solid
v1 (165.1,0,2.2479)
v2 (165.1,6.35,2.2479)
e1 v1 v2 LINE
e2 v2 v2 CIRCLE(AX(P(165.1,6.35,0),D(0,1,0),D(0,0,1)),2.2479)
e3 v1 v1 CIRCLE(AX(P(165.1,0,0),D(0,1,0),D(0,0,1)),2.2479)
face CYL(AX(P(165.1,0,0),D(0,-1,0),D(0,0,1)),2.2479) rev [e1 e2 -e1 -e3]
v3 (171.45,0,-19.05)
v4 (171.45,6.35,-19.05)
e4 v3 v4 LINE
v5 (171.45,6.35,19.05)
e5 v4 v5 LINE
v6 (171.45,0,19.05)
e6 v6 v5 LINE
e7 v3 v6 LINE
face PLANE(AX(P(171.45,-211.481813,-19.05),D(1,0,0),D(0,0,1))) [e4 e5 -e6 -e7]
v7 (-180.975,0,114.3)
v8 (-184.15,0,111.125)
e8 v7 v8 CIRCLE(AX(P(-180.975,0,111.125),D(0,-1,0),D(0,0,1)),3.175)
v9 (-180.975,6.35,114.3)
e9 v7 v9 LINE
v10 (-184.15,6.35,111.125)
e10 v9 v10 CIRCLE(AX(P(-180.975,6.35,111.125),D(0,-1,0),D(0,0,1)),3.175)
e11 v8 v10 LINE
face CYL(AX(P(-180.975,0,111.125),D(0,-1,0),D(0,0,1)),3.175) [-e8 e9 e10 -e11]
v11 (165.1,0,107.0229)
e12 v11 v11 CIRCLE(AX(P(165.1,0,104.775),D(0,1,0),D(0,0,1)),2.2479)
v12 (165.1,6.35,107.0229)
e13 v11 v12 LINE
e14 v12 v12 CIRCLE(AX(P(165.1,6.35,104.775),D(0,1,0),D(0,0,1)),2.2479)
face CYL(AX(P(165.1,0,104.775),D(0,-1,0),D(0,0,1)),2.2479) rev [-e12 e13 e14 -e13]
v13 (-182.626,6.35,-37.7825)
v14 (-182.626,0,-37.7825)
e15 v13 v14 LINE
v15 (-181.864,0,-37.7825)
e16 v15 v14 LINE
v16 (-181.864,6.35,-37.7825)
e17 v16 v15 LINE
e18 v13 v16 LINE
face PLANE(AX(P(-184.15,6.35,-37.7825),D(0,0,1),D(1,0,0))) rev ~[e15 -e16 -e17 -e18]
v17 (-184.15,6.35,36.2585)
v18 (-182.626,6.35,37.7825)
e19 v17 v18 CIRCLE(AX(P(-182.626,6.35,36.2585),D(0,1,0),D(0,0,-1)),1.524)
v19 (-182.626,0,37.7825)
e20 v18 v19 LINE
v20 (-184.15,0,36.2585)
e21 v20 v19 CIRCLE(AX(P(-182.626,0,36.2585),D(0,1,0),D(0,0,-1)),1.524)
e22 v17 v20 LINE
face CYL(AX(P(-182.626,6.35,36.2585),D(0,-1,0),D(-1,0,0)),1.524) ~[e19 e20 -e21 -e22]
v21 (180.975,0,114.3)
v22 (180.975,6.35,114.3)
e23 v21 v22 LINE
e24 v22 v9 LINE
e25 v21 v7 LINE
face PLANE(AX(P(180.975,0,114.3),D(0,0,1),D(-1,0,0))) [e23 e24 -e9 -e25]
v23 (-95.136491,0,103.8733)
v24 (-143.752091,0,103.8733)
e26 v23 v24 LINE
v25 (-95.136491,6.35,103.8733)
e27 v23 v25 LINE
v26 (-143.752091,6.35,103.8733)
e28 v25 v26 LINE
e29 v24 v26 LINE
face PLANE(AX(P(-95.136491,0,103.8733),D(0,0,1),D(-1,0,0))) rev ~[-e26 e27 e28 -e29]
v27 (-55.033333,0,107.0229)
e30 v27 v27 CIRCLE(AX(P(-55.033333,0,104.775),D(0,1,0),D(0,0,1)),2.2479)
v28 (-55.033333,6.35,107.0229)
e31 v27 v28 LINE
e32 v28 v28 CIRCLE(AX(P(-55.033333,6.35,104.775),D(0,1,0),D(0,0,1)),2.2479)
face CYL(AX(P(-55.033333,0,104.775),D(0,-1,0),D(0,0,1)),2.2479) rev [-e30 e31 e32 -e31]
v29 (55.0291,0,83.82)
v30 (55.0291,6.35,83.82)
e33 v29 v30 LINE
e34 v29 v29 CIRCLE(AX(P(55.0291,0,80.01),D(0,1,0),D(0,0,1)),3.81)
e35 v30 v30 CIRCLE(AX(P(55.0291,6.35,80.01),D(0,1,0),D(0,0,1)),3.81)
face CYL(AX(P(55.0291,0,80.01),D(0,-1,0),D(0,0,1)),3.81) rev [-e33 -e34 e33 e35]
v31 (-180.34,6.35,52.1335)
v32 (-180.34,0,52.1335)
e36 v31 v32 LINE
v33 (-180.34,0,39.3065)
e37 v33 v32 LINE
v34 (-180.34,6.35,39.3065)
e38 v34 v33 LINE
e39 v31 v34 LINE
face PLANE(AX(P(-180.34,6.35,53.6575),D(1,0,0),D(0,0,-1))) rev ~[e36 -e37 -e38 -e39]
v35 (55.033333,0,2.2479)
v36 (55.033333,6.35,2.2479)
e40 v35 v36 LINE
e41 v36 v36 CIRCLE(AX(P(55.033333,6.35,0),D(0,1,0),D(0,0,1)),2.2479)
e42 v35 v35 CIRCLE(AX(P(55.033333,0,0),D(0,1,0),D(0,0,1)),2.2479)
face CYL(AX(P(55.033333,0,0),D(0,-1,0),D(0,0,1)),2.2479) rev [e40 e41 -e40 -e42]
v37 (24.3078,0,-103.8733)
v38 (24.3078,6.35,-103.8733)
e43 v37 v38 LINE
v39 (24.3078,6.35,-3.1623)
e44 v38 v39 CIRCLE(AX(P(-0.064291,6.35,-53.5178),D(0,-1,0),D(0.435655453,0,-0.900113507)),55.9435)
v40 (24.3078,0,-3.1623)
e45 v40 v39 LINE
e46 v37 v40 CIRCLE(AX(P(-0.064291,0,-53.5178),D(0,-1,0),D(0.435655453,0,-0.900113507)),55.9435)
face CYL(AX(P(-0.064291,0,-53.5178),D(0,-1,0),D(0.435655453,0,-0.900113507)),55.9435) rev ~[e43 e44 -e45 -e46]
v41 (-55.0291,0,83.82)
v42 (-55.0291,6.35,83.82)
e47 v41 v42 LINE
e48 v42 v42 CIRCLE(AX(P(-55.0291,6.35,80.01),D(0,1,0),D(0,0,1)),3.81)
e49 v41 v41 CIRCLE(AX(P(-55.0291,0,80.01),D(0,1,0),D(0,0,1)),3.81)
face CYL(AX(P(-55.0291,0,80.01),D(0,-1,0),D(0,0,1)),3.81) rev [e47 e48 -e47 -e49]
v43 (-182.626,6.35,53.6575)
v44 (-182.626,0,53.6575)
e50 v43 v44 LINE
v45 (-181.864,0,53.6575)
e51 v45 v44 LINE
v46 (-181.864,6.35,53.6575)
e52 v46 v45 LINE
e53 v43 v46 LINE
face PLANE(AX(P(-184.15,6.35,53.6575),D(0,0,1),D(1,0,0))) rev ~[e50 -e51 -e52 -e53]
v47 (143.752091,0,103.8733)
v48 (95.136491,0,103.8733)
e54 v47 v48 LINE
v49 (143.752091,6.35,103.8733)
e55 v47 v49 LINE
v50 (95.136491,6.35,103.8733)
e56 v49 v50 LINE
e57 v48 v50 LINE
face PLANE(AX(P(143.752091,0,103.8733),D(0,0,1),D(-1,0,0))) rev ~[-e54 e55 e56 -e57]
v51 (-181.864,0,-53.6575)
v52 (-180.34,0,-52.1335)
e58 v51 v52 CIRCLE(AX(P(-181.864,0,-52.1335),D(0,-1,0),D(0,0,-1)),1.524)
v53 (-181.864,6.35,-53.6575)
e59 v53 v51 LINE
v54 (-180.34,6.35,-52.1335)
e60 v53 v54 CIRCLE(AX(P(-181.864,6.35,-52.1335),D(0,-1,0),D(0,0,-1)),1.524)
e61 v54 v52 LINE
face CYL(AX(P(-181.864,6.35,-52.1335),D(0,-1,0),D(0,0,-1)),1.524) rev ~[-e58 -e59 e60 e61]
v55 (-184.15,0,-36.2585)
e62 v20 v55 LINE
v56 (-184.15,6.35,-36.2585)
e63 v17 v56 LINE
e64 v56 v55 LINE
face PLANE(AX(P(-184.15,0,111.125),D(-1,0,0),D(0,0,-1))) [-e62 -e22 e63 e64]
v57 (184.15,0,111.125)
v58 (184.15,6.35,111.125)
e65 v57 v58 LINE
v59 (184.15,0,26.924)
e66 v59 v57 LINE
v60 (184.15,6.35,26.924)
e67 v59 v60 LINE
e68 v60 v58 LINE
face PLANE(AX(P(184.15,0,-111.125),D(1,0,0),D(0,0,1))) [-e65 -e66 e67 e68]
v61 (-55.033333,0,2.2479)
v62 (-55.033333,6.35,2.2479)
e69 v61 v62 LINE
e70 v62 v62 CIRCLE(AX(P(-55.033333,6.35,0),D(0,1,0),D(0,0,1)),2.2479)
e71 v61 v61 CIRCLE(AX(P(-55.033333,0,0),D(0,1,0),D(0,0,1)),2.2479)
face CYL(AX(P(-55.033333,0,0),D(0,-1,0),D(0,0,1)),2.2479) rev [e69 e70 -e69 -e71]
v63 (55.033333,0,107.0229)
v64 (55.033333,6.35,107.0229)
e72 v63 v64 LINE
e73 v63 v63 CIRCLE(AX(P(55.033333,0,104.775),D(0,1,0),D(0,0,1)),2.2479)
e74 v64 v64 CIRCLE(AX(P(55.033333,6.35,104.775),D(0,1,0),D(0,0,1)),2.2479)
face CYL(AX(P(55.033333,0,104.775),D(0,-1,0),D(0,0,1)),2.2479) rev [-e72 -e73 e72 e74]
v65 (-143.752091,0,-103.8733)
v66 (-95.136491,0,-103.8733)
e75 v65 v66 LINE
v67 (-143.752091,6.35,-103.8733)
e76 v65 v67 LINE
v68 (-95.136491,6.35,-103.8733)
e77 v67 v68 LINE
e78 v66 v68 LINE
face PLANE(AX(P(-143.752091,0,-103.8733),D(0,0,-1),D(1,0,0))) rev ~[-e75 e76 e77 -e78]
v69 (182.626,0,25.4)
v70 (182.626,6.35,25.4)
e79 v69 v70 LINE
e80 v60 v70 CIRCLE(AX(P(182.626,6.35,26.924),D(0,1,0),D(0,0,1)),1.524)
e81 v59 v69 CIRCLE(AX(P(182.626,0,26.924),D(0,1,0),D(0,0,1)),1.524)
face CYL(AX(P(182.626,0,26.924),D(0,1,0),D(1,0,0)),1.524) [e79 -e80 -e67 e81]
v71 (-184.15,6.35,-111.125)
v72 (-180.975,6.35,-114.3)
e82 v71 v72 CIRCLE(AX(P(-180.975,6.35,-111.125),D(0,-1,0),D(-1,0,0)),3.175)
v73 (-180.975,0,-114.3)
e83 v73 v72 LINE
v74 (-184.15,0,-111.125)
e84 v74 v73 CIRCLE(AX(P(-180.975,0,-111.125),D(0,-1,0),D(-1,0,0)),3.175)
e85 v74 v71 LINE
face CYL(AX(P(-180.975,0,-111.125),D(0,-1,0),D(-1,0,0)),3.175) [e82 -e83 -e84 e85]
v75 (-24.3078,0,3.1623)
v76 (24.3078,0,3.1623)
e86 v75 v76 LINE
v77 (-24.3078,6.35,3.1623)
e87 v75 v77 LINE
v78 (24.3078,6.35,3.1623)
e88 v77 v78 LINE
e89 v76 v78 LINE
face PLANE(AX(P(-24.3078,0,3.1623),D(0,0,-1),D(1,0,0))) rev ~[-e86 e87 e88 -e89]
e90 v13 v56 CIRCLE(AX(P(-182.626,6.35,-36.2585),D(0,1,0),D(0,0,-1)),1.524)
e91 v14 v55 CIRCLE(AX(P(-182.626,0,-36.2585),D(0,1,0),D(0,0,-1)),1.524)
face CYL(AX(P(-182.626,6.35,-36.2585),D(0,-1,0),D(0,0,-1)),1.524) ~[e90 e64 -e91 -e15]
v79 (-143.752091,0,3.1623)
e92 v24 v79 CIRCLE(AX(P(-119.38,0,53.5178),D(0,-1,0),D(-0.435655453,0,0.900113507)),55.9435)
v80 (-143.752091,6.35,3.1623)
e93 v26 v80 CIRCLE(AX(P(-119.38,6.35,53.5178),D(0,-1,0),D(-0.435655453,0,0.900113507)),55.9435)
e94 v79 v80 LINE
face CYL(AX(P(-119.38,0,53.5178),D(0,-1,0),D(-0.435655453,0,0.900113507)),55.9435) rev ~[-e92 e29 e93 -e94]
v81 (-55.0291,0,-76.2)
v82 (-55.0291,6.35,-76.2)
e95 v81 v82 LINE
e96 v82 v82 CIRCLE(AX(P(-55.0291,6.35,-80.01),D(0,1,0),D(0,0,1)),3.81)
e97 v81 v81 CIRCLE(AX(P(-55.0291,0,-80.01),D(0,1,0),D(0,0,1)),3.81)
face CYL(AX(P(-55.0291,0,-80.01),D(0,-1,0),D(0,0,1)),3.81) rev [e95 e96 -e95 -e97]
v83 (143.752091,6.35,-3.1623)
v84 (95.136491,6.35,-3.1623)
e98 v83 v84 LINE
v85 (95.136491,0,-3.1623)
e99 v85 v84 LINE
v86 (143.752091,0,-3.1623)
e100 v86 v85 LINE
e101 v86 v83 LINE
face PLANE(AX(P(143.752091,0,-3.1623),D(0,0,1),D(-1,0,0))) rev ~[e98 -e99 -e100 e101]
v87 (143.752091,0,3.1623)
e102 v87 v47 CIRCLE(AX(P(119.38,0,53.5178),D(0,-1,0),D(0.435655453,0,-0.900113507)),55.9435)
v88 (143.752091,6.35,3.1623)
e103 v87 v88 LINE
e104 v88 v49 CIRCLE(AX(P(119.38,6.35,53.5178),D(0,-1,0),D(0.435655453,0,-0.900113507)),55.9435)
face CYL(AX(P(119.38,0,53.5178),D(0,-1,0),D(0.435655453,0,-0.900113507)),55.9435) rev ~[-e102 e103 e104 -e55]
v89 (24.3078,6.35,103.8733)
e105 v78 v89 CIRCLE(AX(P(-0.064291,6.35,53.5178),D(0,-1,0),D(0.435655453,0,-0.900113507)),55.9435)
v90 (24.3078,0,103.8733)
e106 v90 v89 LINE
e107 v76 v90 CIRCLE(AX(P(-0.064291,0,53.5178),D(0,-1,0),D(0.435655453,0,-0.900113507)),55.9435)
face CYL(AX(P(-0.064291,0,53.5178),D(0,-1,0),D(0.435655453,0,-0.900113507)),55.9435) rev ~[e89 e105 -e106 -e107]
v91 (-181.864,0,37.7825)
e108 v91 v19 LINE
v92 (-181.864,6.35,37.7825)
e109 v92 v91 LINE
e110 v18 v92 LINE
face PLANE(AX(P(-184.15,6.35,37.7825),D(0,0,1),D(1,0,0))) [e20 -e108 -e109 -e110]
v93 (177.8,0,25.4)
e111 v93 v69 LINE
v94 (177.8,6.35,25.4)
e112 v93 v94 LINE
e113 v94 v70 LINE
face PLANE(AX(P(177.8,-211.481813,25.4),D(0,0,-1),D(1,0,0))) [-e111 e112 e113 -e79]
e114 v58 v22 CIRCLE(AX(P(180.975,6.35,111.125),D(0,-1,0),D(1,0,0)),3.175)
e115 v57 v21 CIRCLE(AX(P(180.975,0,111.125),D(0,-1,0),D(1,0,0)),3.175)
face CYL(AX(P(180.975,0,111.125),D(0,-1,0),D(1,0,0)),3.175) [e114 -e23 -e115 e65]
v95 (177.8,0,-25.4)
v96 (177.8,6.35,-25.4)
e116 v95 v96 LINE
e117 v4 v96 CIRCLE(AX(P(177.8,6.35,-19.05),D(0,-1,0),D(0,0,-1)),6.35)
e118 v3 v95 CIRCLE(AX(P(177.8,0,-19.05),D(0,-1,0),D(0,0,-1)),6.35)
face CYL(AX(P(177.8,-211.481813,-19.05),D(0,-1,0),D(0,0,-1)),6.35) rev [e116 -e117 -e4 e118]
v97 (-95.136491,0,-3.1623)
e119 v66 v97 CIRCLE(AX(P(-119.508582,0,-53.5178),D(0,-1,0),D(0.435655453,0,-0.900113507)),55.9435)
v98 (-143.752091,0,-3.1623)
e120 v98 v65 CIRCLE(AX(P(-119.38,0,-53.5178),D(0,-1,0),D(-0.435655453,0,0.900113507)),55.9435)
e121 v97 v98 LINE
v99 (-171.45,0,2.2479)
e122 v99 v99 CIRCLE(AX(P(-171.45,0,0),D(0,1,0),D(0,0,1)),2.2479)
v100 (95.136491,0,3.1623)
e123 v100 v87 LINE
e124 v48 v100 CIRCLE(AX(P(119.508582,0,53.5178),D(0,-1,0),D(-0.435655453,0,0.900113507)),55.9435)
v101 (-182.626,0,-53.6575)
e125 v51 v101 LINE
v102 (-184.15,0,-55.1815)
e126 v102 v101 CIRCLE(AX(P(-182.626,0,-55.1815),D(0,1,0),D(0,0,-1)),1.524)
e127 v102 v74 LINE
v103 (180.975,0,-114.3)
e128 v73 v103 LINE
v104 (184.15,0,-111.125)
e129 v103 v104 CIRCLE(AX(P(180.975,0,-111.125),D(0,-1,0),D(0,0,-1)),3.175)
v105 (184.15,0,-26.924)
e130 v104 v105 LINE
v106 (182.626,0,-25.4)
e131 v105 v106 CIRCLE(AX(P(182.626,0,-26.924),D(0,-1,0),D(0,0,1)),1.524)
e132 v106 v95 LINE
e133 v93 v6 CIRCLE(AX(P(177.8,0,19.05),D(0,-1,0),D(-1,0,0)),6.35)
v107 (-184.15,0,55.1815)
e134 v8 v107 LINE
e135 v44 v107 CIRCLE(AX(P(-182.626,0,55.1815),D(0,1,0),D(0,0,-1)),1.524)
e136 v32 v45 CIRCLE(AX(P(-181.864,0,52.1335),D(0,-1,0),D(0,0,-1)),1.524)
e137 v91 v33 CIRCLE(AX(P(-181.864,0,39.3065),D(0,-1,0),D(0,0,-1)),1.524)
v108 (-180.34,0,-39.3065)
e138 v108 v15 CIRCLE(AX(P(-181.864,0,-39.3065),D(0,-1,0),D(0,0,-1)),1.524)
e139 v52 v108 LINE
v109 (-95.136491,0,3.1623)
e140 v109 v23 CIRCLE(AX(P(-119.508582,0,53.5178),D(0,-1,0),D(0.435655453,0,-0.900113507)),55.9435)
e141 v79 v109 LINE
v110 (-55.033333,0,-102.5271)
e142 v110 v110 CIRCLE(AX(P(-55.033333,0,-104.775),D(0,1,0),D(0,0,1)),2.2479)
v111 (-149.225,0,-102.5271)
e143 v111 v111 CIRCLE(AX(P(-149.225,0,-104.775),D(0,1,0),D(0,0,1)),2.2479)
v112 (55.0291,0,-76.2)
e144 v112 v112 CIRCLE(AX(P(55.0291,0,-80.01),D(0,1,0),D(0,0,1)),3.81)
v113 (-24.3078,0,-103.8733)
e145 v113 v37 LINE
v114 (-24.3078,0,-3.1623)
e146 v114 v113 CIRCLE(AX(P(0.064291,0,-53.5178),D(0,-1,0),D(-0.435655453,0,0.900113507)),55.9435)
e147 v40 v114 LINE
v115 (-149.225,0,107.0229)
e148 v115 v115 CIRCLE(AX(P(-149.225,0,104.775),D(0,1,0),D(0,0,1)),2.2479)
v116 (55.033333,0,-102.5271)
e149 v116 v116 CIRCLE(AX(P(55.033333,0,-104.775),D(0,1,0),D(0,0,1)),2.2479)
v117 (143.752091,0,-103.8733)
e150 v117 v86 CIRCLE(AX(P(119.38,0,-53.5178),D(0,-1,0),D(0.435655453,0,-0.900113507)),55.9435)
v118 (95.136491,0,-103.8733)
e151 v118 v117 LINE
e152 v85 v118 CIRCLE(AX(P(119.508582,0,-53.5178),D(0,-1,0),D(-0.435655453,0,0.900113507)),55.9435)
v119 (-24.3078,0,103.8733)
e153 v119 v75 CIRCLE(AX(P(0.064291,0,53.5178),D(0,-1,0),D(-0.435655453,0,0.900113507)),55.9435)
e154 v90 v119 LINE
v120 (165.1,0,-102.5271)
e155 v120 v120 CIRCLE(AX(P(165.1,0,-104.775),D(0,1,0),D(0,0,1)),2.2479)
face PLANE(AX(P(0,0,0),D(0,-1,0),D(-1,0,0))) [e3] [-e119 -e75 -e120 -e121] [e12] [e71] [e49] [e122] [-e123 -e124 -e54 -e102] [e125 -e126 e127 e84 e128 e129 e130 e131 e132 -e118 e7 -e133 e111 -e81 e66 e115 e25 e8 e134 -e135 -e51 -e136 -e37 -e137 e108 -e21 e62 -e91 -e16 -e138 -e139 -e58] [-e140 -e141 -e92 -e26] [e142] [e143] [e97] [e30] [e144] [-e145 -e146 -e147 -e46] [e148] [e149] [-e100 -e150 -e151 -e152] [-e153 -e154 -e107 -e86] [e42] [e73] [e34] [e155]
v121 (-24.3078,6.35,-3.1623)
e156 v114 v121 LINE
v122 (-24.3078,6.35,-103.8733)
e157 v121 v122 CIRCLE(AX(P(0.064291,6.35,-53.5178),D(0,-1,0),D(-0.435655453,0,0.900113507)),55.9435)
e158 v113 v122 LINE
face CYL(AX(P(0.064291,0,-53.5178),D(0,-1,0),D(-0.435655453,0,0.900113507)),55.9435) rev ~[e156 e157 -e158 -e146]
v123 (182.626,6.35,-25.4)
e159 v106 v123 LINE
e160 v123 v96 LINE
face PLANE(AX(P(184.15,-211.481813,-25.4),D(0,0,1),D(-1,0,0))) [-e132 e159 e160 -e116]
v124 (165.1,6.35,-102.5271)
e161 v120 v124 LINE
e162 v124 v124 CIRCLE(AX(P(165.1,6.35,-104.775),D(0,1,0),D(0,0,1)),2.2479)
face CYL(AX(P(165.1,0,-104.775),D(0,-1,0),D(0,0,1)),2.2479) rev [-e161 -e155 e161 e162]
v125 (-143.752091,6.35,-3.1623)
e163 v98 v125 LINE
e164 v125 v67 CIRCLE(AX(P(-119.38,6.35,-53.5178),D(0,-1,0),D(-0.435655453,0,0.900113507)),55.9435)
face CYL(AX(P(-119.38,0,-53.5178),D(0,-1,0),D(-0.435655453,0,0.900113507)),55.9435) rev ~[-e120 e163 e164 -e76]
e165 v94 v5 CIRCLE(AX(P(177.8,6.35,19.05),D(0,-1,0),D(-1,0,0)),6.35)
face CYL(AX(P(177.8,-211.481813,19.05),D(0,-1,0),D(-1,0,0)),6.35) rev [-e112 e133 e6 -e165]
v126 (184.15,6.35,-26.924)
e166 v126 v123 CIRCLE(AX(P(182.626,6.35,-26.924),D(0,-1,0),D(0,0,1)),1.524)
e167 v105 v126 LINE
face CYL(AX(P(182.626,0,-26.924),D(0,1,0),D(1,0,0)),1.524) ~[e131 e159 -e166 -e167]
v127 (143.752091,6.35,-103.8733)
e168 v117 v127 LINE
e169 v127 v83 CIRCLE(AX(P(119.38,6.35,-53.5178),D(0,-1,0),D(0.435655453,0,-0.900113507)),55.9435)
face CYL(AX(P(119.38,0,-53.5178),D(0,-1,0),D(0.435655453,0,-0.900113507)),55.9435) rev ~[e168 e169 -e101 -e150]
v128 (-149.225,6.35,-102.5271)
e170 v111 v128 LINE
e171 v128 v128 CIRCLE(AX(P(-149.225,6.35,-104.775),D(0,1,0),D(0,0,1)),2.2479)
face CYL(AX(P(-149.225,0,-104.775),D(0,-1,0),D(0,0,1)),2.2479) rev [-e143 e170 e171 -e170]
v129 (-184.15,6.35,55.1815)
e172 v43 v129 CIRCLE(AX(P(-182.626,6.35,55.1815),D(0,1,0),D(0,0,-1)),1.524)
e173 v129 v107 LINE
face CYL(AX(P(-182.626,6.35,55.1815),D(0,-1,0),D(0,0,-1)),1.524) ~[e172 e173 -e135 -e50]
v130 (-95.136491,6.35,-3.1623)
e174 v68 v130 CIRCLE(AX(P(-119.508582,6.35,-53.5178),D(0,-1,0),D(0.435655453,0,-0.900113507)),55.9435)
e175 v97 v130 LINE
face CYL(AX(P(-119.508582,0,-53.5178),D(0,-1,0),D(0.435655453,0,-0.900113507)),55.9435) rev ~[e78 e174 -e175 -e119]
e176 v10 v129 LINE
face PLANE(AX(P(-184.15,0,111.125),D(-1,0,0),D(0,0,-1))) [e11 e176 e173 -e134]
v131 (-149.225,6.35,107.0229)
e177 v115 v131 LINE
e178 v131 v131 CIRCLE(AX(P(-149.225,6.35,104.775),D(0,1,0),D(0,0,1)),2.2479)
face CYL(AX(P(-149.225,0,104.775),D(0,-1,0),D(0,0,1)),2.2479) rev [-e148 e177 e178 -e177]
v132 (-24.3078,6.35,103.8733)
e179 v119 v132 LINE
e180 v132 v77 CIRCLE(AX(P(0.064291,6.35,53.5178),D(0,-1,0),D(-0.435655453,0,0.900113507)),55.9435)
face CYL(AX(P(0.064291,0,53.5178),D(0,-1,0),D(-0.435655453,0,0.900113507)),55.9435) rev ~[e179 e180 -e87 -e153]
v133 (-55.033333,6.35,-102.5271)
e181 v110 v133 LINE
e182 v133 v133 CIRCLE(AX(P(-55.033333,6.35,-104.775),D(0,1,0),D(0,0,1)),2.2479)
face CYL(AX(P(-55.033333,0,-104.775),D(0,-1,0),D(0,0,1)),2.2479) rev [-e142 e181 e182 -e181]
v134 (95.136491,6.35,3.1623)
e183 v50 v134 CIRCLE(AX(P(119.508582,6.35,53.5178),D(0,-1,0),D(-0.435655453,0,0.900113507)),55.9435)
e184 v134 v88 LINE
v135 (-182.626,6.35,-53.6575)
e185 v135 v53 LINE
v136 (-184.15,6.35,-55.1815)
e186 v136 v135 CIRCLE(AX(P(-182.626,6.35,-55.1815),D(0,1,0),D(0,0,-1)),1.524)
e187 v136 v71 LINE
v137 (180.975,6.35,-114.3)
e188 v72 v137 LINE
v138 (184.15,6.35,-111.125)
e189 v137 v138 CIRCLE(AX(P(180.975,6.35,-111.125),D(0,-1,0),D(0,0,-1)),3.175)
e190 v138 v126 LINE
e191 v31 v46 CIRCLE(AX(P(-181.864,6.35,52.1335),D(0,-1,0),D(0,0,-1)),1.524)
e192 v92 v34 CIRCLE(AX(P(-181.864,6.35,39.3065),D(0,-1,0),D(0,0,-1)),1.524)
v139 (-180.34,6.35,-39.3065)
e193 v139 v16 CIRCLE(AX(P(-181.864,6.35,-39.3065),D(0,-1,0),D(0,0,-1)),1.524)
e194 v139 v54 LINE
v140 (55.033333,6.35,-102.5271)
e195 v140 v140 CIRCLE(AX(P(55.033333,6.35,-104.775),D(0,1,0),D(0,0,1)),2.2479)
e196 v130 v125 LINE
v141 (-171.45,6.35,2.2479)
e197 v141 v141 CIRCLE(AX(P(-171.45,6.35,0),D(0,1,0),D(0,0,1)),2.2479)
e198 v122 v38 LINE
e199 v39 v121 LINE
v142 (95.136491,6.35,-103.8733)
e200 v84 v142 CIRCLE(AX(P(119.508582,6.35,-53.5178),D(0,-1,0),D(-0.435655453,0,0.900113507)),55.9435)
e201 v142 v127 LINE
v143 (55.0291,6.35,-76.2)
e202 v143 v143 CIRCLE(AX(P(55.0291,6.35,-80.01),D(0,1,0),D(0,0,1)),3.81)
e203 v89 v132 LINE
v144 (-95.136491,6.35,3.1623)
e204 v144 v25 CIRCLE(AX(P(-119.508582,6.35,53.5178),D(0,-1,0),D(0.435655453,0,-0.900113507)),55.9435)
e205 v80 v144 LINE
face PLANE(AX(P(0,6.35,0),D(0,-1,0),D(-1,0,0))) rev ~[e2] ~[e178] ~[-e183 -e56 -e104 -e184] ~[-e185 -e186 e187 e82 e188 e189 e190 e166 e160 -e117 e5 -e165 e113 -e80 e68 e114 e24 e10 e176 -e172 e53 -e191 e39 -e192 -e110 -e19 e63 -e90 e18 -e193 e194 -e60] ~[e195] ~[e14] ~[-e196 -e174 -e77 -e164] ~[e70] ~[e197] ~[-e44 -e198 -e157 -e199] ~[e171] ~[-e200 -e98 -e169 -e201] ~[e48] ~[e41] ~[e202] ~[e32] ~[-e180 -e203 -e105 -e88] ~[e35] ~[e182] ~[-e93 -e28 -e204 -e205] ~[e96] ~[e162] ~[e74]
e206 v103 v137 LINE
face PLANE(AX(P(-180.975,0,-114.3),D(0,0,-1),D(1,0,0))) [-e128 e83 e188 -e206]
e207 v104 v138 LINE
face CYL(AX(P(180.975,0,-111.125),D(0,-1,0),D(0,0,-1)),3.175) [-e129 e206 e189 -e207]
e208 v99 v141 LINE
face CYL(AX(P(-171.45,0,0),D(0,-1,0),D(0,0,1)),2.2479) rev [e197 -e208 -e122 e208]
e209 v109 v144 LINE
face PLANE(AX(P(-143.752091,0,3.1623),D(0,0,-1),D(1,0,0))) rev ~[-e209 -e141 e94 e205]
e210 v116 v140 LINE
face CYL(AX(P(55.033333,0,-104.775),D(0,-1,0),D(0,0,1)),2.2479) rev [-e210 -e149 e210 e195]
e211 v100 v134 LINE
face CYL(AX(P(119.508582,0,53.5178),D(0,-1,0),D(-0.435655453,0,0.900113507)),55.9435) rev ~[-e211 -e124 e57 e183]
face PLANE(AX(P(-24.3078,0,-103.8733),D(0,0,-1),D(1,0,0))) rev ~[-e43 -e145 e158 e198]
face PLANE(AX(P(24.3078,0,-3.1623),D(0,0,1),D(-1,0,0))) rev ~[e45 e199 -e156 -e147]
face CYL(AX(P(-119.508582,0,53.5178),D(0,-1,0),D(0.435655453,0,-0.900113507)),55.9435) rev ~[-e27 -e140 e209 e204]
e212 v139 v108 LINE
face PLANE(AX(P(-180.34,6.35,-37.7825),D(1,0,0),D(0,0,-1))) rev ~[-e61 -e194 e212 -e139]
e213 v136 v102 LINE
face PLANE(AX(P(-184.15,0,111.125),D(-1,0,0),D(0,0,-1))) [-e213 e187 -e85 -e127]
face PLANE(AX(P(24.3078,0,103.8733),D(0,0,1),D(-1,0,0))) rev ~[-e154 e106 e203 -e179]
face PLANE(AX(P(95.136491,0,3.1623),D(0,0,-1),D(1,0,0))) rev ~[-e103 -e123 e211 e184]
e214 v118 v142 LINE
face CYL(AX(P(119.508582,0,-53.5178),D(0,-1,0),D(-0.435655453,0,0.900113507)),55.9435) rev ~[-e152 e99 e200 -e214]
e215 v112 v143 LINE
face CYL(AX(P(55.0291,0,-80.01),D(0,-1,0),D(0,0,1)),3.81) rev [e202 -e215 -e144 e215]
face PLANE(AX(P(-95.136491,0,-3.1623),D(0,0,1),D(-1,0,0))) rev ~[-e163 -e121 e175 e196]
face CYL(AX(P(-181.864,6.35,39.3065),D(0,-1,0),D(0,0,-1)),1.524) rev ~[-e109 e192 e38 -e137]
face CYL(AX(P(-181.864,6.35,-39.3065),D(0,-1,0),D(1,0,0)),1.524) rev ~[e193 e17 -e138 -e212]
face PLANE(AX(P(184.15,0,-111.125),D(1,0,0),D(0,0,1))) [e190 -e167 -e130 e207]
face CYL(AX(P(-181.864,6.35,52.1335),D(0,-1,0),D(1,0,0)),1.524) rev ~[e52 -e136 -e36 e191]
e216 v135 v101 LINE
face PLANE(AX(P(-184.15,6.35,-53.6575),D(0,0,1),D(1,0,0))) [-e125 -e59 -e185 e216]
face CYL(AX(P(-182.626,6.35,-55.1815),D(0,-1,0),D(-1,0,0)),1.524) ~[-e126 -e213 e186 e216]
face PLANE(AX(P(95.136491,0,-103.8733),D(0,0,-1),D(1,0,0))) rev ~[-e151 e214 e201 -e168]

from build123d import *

# Parameters (mm, degrees)
SKETCH1_R               = 2.2479
SKETCH1_R_2             = 3.81
BOSS_EXTRUDE1_DEPTH     = 6.35
CUT_EXTRUDE1_DEPTH      = 217.831812703
CUT_EXTRUDE1_DEPTH_BACK = 217.831812703
SKETCH3_W               = 3.81
SKETCH3_H               = 15.875
CUT_EXTRUDE2_DEPTH      = 217.831812703
FILLET1_R               = 1.524


with BuildPart() as part:
    # Sketch1 → Boss-Extrude1 (new body)
    with BuildSketch(Plane(origin=(0, 0, 0), x_dir=(1, 0, 0), z_dir=(0, 1, 0))):
        with BuildLine():
            Line((-180.975, 114.3), (180.975, 114.3))
            ThreePointArc((180.975, 114.3), (183.22006403, 113.37006403), (184.15, 111.125))
            Line((184.15, 111.125), (184.15, -111.125))
            ThreePointArc((184.15, -111.125), (183.22006403, -113.37006403), (180.975, -114.3))
            Line((180.975, -114.3), (-180.975, -114.3))
            ThreePointArc((-180.975, -114.3), (-183.22006403, -113.37006403), (-184.15, -111.125))
            Line((-184.15, -111.125), (-184.15, 111.125))
            ThreePointArc((-184.15, 111.125), (-183.22006403, 113.37006403), (-180.975, 114.3))
        make_face()
        with Locations(Location((-149.225, -104.775, 0), (0, 0, 270))):
            Circle(SKETCH1_R, mode=Mode.SUBTRACT)
        with Locations(Location((-55.033333333, -104.775, 0), (0, 0, 270))):
            Circle(SKETCH1_R, mode=Mode.SUBTRACT)
        with Locations(Location((55.033333333, -104.775, 0), (0, 0, 270))):
            Circle(SKETCH1_R, mode=Mode.SUBTRACT)
        with Locations(Location((165.1, -104.775, 0), (0, 0, 270))):
            Circle(SKETCH1_R, mode=Mode.SUBTRACT)
        with Locations(Location((165.1, 104.775, 0), (0, 0, 270))):
            Circle(SKETCH1_R, mode=Mode.SUBTRACT)
        with Locations(Location((55.033333333, 104.775, 0), (0, 0, 270))):
            Circle(SKETCH1_R, mode=Mode.SUBTRACT)
        with Locations(Location((-55.033333333, 104.775, 0), (0, 0, 270))):
            Circle(SKETCH1_R, mode=Mode.SUBTRACT)
        with Locations(Location((-149.225, 104.775, 0), (0, 0, 270))):
            Circle(SKETCH1_R, mode=Mode.SUBTRACT)
        with Locations(Location((-55.033333333, 0, 0), (0, 0, 270))):
            Circle(SKETCH1_R, mode=Mode.SUBTRACT)
        with Locations(Location((55.033333333, 0, 0), (0, 0, 270))):
            Circle(SKETCH1_R, mode=Mode.SUBTRACT)
        with Locations(Location((-55.0291, 80.01, 0), (0, 0, 270))):
            Circle(SKETCH1_R_2, mode=Mode.SUBTRACT)
        with Locations(Location((-55.0291, -80.01, 0), (0, 0, 270))):
            Circle(SKETCH1_R_2, mode=Mode.SUBTRACT)
        with Locations(Location((55.0291, -80.01, 0), (0, 0, 270))):
            Circle(SKETCH1_R_2, mode=Mode.SUBTRACT)
        with Locations(Location((55.0291, 80.01, 0), (0, 0, 270))):
            Circle(SKETCH1_R_2, mode=Mode.SUBTRACT)
        with Locations(Location((165.1, 0, 0), (0, 0, 270))):
            Circle(SKETCH1_R, mode=Mode.SUBTRACT)
        with Locations(Location((-171.45, 0, 0), (0, 0, 270))):
            Circle(SKETCH1_R, mode=Mode.SUBTRACT)
        with BuildLine():
            Line((-24.3078, -3.1623), (24.3078, -3.1623))
            ThreePointArc((24.3078, -3.1623), (55.879209158, -53.5178), (24.3078, -103.8733))
            Line((24.3078, -103.8733), (-24.3078, -103.8733))
            ThreePointArc((-24.3078, -103.8733), (-55.879209158, -53.5178), (-24.3078, -3.1623))
        make_face(mode=Mode.SUBTRACT)
        with BuildLine():
            Line((95.136490842, -3.1623), (143.752090842, -3.1623))
            ThreePointArc((143.752090842, -3.1623), (175.3235, -53.5178), (143.752090842, -103.8733))
            Line((143.752090842, -103.8733), (95.136490842, -103.8733))
            ThreePointArc((95.136490842, -103.8733), (63.565081684, -53.5178), (95.136490842, -3.1623))
        make_face(mode=Mode.SUBTRACT)
        with BuildLine():
            Line((-143.752090842, -3.1623), (-95.136490842, -3.1623))
            ThreePointArc((-95.136490842, -3.1623), (-63.565081684, -53.5178), (-95.136490842, -103.8733))
            Line((-95.136490842, -103.8733), (-143.752090842, -103.8733))
            ThreePointArc((-143.752090842, -103.8733), (-175.3235, -53.5178), (-143.752090842, -3.1623))
        make_face(mode=Mode.SUBTRACT)
        with BuildLine():
            Line((-24.3078, 103.8733), (24.3078, 103.8733))
            ThreePointArc((24.3078, 103.8733), (55.879209158, 53.5178), (24.3078, 3.1623))
            Line((24.3078, 3.1623), (-24.3078, 3.1623))
            ThreePointArc((-24.3078, 3.1623), (-55.879209158, 53.5178), (-24.3078, 103.8733))
        make_face(mode=Mode.SUBTRACT)
        with BuildLine():
            Line((-143.752090842, 103.8733), (-95.136490842, 103.8733))
            ThreePointArc((-95.136490842, 103.8733), (-63.565081684, 53.5178), (-95.136490842, 3.1623))
            Line((-95.136490842, 3.1623), (-143.752090842, 3.1623))
            ThreePointArc((-143.752090842, 3.1623), (-175.3235, 53.5178), (-143.752090842, 103.8733))
        make_face(mode=Mode.SUBTRACT)
        with BuildLine():
            Line((95.136490842, 103.8733), (143.752090842, 103.8733))
            ThreePointArc((143.752090842, 103.8733), (175.3235, 53.5178), (143.752090842, 3.1623))
            Line((143.752090842, 3.1623), (95.136490842, 3.1623))
            ThreePointArc((95.136490842, 3.1623), (63.565081684, 53.5178), (95.136490842, 103.8733))
        make_face(mode=Mode.SUBTRACT)
    extrude(amount=BOSS_EXTRUDE1_DEPTH)

    # Sketch2 → Cut-Extrude1 (cut, two sides: drawn at the far end of the back side and taken through both)
    with BuildSketch(Plane(origin=(0, 6.35, 0), x_dir=(1, 0, 0), z_dir=(0, 1, 0)).offset(-CUT_EXTRUDE1_DEPTH_BACK)):
        with BuildLine():
            Line((184.15, 25.4), (177.8, 25.4))
            ThreePointArc((177.8, 25.4), (173.309871939, 23.540128061), (171.45, 19.05))
            Line((171.45, 19.05), (171.45, -19.05))
            ThreePointArc((171.45, -19.05), (173.309871939, -23.540128061), (177.8, -25.4))
            Line((177.8, -25.4), (184.15, -25.4))
            Line((184.15, -25.4), (184.15, 25.4))
        make_face()
    extrude(amount=CUT_EXTRUDE1_DEPTH + CUT_EXTRUDE1_DEPTH_BACK, mode=Mode.SUBTRACT)

    # Sketch3 → Cut-Extrude2 (cut, through all)
    with BuildSketch(Plane(origin=(0, 6.35, 0), x_dir=(1, 0, 0), z_dir=(0, 1, 0))):
        with Locations((-182.245, 45.72)):
            Rectangle(SKETCH3_W, SKETCH3_H)
        with Locations((-182.245, -45.72)):
            Rectangle(SKETCH3_W, SKETCH3_H)
    extrude(amount=-CUT_EXTRUDE2_DEPTH, mode=Mode.SUBTRACT)

    # Fillet1
    fillet1_edges = [part.edges().sort_by_distance(p)[0] for p in [
        (184.15, 3.175, -25.4),
        (184.15, 3.175, 25.4),
        (-184.15, 3.175, -37.7825),
        (-184.15, 3.175, -53.6575),
        (-180.34, 3.175, -53.6575),
        (-180.34, 3.175, -37.7825),
        (-184.15, 3.175, 53.6575),
        (-184.15, 3.175, 37.7825),
        (-180.34, 3.175, 37.7825),
        (-180.34, 3.175, 53.6575),
    ]]
    fillet(fillet1_edges, radius=FILLET1_R)


solid = part.part
